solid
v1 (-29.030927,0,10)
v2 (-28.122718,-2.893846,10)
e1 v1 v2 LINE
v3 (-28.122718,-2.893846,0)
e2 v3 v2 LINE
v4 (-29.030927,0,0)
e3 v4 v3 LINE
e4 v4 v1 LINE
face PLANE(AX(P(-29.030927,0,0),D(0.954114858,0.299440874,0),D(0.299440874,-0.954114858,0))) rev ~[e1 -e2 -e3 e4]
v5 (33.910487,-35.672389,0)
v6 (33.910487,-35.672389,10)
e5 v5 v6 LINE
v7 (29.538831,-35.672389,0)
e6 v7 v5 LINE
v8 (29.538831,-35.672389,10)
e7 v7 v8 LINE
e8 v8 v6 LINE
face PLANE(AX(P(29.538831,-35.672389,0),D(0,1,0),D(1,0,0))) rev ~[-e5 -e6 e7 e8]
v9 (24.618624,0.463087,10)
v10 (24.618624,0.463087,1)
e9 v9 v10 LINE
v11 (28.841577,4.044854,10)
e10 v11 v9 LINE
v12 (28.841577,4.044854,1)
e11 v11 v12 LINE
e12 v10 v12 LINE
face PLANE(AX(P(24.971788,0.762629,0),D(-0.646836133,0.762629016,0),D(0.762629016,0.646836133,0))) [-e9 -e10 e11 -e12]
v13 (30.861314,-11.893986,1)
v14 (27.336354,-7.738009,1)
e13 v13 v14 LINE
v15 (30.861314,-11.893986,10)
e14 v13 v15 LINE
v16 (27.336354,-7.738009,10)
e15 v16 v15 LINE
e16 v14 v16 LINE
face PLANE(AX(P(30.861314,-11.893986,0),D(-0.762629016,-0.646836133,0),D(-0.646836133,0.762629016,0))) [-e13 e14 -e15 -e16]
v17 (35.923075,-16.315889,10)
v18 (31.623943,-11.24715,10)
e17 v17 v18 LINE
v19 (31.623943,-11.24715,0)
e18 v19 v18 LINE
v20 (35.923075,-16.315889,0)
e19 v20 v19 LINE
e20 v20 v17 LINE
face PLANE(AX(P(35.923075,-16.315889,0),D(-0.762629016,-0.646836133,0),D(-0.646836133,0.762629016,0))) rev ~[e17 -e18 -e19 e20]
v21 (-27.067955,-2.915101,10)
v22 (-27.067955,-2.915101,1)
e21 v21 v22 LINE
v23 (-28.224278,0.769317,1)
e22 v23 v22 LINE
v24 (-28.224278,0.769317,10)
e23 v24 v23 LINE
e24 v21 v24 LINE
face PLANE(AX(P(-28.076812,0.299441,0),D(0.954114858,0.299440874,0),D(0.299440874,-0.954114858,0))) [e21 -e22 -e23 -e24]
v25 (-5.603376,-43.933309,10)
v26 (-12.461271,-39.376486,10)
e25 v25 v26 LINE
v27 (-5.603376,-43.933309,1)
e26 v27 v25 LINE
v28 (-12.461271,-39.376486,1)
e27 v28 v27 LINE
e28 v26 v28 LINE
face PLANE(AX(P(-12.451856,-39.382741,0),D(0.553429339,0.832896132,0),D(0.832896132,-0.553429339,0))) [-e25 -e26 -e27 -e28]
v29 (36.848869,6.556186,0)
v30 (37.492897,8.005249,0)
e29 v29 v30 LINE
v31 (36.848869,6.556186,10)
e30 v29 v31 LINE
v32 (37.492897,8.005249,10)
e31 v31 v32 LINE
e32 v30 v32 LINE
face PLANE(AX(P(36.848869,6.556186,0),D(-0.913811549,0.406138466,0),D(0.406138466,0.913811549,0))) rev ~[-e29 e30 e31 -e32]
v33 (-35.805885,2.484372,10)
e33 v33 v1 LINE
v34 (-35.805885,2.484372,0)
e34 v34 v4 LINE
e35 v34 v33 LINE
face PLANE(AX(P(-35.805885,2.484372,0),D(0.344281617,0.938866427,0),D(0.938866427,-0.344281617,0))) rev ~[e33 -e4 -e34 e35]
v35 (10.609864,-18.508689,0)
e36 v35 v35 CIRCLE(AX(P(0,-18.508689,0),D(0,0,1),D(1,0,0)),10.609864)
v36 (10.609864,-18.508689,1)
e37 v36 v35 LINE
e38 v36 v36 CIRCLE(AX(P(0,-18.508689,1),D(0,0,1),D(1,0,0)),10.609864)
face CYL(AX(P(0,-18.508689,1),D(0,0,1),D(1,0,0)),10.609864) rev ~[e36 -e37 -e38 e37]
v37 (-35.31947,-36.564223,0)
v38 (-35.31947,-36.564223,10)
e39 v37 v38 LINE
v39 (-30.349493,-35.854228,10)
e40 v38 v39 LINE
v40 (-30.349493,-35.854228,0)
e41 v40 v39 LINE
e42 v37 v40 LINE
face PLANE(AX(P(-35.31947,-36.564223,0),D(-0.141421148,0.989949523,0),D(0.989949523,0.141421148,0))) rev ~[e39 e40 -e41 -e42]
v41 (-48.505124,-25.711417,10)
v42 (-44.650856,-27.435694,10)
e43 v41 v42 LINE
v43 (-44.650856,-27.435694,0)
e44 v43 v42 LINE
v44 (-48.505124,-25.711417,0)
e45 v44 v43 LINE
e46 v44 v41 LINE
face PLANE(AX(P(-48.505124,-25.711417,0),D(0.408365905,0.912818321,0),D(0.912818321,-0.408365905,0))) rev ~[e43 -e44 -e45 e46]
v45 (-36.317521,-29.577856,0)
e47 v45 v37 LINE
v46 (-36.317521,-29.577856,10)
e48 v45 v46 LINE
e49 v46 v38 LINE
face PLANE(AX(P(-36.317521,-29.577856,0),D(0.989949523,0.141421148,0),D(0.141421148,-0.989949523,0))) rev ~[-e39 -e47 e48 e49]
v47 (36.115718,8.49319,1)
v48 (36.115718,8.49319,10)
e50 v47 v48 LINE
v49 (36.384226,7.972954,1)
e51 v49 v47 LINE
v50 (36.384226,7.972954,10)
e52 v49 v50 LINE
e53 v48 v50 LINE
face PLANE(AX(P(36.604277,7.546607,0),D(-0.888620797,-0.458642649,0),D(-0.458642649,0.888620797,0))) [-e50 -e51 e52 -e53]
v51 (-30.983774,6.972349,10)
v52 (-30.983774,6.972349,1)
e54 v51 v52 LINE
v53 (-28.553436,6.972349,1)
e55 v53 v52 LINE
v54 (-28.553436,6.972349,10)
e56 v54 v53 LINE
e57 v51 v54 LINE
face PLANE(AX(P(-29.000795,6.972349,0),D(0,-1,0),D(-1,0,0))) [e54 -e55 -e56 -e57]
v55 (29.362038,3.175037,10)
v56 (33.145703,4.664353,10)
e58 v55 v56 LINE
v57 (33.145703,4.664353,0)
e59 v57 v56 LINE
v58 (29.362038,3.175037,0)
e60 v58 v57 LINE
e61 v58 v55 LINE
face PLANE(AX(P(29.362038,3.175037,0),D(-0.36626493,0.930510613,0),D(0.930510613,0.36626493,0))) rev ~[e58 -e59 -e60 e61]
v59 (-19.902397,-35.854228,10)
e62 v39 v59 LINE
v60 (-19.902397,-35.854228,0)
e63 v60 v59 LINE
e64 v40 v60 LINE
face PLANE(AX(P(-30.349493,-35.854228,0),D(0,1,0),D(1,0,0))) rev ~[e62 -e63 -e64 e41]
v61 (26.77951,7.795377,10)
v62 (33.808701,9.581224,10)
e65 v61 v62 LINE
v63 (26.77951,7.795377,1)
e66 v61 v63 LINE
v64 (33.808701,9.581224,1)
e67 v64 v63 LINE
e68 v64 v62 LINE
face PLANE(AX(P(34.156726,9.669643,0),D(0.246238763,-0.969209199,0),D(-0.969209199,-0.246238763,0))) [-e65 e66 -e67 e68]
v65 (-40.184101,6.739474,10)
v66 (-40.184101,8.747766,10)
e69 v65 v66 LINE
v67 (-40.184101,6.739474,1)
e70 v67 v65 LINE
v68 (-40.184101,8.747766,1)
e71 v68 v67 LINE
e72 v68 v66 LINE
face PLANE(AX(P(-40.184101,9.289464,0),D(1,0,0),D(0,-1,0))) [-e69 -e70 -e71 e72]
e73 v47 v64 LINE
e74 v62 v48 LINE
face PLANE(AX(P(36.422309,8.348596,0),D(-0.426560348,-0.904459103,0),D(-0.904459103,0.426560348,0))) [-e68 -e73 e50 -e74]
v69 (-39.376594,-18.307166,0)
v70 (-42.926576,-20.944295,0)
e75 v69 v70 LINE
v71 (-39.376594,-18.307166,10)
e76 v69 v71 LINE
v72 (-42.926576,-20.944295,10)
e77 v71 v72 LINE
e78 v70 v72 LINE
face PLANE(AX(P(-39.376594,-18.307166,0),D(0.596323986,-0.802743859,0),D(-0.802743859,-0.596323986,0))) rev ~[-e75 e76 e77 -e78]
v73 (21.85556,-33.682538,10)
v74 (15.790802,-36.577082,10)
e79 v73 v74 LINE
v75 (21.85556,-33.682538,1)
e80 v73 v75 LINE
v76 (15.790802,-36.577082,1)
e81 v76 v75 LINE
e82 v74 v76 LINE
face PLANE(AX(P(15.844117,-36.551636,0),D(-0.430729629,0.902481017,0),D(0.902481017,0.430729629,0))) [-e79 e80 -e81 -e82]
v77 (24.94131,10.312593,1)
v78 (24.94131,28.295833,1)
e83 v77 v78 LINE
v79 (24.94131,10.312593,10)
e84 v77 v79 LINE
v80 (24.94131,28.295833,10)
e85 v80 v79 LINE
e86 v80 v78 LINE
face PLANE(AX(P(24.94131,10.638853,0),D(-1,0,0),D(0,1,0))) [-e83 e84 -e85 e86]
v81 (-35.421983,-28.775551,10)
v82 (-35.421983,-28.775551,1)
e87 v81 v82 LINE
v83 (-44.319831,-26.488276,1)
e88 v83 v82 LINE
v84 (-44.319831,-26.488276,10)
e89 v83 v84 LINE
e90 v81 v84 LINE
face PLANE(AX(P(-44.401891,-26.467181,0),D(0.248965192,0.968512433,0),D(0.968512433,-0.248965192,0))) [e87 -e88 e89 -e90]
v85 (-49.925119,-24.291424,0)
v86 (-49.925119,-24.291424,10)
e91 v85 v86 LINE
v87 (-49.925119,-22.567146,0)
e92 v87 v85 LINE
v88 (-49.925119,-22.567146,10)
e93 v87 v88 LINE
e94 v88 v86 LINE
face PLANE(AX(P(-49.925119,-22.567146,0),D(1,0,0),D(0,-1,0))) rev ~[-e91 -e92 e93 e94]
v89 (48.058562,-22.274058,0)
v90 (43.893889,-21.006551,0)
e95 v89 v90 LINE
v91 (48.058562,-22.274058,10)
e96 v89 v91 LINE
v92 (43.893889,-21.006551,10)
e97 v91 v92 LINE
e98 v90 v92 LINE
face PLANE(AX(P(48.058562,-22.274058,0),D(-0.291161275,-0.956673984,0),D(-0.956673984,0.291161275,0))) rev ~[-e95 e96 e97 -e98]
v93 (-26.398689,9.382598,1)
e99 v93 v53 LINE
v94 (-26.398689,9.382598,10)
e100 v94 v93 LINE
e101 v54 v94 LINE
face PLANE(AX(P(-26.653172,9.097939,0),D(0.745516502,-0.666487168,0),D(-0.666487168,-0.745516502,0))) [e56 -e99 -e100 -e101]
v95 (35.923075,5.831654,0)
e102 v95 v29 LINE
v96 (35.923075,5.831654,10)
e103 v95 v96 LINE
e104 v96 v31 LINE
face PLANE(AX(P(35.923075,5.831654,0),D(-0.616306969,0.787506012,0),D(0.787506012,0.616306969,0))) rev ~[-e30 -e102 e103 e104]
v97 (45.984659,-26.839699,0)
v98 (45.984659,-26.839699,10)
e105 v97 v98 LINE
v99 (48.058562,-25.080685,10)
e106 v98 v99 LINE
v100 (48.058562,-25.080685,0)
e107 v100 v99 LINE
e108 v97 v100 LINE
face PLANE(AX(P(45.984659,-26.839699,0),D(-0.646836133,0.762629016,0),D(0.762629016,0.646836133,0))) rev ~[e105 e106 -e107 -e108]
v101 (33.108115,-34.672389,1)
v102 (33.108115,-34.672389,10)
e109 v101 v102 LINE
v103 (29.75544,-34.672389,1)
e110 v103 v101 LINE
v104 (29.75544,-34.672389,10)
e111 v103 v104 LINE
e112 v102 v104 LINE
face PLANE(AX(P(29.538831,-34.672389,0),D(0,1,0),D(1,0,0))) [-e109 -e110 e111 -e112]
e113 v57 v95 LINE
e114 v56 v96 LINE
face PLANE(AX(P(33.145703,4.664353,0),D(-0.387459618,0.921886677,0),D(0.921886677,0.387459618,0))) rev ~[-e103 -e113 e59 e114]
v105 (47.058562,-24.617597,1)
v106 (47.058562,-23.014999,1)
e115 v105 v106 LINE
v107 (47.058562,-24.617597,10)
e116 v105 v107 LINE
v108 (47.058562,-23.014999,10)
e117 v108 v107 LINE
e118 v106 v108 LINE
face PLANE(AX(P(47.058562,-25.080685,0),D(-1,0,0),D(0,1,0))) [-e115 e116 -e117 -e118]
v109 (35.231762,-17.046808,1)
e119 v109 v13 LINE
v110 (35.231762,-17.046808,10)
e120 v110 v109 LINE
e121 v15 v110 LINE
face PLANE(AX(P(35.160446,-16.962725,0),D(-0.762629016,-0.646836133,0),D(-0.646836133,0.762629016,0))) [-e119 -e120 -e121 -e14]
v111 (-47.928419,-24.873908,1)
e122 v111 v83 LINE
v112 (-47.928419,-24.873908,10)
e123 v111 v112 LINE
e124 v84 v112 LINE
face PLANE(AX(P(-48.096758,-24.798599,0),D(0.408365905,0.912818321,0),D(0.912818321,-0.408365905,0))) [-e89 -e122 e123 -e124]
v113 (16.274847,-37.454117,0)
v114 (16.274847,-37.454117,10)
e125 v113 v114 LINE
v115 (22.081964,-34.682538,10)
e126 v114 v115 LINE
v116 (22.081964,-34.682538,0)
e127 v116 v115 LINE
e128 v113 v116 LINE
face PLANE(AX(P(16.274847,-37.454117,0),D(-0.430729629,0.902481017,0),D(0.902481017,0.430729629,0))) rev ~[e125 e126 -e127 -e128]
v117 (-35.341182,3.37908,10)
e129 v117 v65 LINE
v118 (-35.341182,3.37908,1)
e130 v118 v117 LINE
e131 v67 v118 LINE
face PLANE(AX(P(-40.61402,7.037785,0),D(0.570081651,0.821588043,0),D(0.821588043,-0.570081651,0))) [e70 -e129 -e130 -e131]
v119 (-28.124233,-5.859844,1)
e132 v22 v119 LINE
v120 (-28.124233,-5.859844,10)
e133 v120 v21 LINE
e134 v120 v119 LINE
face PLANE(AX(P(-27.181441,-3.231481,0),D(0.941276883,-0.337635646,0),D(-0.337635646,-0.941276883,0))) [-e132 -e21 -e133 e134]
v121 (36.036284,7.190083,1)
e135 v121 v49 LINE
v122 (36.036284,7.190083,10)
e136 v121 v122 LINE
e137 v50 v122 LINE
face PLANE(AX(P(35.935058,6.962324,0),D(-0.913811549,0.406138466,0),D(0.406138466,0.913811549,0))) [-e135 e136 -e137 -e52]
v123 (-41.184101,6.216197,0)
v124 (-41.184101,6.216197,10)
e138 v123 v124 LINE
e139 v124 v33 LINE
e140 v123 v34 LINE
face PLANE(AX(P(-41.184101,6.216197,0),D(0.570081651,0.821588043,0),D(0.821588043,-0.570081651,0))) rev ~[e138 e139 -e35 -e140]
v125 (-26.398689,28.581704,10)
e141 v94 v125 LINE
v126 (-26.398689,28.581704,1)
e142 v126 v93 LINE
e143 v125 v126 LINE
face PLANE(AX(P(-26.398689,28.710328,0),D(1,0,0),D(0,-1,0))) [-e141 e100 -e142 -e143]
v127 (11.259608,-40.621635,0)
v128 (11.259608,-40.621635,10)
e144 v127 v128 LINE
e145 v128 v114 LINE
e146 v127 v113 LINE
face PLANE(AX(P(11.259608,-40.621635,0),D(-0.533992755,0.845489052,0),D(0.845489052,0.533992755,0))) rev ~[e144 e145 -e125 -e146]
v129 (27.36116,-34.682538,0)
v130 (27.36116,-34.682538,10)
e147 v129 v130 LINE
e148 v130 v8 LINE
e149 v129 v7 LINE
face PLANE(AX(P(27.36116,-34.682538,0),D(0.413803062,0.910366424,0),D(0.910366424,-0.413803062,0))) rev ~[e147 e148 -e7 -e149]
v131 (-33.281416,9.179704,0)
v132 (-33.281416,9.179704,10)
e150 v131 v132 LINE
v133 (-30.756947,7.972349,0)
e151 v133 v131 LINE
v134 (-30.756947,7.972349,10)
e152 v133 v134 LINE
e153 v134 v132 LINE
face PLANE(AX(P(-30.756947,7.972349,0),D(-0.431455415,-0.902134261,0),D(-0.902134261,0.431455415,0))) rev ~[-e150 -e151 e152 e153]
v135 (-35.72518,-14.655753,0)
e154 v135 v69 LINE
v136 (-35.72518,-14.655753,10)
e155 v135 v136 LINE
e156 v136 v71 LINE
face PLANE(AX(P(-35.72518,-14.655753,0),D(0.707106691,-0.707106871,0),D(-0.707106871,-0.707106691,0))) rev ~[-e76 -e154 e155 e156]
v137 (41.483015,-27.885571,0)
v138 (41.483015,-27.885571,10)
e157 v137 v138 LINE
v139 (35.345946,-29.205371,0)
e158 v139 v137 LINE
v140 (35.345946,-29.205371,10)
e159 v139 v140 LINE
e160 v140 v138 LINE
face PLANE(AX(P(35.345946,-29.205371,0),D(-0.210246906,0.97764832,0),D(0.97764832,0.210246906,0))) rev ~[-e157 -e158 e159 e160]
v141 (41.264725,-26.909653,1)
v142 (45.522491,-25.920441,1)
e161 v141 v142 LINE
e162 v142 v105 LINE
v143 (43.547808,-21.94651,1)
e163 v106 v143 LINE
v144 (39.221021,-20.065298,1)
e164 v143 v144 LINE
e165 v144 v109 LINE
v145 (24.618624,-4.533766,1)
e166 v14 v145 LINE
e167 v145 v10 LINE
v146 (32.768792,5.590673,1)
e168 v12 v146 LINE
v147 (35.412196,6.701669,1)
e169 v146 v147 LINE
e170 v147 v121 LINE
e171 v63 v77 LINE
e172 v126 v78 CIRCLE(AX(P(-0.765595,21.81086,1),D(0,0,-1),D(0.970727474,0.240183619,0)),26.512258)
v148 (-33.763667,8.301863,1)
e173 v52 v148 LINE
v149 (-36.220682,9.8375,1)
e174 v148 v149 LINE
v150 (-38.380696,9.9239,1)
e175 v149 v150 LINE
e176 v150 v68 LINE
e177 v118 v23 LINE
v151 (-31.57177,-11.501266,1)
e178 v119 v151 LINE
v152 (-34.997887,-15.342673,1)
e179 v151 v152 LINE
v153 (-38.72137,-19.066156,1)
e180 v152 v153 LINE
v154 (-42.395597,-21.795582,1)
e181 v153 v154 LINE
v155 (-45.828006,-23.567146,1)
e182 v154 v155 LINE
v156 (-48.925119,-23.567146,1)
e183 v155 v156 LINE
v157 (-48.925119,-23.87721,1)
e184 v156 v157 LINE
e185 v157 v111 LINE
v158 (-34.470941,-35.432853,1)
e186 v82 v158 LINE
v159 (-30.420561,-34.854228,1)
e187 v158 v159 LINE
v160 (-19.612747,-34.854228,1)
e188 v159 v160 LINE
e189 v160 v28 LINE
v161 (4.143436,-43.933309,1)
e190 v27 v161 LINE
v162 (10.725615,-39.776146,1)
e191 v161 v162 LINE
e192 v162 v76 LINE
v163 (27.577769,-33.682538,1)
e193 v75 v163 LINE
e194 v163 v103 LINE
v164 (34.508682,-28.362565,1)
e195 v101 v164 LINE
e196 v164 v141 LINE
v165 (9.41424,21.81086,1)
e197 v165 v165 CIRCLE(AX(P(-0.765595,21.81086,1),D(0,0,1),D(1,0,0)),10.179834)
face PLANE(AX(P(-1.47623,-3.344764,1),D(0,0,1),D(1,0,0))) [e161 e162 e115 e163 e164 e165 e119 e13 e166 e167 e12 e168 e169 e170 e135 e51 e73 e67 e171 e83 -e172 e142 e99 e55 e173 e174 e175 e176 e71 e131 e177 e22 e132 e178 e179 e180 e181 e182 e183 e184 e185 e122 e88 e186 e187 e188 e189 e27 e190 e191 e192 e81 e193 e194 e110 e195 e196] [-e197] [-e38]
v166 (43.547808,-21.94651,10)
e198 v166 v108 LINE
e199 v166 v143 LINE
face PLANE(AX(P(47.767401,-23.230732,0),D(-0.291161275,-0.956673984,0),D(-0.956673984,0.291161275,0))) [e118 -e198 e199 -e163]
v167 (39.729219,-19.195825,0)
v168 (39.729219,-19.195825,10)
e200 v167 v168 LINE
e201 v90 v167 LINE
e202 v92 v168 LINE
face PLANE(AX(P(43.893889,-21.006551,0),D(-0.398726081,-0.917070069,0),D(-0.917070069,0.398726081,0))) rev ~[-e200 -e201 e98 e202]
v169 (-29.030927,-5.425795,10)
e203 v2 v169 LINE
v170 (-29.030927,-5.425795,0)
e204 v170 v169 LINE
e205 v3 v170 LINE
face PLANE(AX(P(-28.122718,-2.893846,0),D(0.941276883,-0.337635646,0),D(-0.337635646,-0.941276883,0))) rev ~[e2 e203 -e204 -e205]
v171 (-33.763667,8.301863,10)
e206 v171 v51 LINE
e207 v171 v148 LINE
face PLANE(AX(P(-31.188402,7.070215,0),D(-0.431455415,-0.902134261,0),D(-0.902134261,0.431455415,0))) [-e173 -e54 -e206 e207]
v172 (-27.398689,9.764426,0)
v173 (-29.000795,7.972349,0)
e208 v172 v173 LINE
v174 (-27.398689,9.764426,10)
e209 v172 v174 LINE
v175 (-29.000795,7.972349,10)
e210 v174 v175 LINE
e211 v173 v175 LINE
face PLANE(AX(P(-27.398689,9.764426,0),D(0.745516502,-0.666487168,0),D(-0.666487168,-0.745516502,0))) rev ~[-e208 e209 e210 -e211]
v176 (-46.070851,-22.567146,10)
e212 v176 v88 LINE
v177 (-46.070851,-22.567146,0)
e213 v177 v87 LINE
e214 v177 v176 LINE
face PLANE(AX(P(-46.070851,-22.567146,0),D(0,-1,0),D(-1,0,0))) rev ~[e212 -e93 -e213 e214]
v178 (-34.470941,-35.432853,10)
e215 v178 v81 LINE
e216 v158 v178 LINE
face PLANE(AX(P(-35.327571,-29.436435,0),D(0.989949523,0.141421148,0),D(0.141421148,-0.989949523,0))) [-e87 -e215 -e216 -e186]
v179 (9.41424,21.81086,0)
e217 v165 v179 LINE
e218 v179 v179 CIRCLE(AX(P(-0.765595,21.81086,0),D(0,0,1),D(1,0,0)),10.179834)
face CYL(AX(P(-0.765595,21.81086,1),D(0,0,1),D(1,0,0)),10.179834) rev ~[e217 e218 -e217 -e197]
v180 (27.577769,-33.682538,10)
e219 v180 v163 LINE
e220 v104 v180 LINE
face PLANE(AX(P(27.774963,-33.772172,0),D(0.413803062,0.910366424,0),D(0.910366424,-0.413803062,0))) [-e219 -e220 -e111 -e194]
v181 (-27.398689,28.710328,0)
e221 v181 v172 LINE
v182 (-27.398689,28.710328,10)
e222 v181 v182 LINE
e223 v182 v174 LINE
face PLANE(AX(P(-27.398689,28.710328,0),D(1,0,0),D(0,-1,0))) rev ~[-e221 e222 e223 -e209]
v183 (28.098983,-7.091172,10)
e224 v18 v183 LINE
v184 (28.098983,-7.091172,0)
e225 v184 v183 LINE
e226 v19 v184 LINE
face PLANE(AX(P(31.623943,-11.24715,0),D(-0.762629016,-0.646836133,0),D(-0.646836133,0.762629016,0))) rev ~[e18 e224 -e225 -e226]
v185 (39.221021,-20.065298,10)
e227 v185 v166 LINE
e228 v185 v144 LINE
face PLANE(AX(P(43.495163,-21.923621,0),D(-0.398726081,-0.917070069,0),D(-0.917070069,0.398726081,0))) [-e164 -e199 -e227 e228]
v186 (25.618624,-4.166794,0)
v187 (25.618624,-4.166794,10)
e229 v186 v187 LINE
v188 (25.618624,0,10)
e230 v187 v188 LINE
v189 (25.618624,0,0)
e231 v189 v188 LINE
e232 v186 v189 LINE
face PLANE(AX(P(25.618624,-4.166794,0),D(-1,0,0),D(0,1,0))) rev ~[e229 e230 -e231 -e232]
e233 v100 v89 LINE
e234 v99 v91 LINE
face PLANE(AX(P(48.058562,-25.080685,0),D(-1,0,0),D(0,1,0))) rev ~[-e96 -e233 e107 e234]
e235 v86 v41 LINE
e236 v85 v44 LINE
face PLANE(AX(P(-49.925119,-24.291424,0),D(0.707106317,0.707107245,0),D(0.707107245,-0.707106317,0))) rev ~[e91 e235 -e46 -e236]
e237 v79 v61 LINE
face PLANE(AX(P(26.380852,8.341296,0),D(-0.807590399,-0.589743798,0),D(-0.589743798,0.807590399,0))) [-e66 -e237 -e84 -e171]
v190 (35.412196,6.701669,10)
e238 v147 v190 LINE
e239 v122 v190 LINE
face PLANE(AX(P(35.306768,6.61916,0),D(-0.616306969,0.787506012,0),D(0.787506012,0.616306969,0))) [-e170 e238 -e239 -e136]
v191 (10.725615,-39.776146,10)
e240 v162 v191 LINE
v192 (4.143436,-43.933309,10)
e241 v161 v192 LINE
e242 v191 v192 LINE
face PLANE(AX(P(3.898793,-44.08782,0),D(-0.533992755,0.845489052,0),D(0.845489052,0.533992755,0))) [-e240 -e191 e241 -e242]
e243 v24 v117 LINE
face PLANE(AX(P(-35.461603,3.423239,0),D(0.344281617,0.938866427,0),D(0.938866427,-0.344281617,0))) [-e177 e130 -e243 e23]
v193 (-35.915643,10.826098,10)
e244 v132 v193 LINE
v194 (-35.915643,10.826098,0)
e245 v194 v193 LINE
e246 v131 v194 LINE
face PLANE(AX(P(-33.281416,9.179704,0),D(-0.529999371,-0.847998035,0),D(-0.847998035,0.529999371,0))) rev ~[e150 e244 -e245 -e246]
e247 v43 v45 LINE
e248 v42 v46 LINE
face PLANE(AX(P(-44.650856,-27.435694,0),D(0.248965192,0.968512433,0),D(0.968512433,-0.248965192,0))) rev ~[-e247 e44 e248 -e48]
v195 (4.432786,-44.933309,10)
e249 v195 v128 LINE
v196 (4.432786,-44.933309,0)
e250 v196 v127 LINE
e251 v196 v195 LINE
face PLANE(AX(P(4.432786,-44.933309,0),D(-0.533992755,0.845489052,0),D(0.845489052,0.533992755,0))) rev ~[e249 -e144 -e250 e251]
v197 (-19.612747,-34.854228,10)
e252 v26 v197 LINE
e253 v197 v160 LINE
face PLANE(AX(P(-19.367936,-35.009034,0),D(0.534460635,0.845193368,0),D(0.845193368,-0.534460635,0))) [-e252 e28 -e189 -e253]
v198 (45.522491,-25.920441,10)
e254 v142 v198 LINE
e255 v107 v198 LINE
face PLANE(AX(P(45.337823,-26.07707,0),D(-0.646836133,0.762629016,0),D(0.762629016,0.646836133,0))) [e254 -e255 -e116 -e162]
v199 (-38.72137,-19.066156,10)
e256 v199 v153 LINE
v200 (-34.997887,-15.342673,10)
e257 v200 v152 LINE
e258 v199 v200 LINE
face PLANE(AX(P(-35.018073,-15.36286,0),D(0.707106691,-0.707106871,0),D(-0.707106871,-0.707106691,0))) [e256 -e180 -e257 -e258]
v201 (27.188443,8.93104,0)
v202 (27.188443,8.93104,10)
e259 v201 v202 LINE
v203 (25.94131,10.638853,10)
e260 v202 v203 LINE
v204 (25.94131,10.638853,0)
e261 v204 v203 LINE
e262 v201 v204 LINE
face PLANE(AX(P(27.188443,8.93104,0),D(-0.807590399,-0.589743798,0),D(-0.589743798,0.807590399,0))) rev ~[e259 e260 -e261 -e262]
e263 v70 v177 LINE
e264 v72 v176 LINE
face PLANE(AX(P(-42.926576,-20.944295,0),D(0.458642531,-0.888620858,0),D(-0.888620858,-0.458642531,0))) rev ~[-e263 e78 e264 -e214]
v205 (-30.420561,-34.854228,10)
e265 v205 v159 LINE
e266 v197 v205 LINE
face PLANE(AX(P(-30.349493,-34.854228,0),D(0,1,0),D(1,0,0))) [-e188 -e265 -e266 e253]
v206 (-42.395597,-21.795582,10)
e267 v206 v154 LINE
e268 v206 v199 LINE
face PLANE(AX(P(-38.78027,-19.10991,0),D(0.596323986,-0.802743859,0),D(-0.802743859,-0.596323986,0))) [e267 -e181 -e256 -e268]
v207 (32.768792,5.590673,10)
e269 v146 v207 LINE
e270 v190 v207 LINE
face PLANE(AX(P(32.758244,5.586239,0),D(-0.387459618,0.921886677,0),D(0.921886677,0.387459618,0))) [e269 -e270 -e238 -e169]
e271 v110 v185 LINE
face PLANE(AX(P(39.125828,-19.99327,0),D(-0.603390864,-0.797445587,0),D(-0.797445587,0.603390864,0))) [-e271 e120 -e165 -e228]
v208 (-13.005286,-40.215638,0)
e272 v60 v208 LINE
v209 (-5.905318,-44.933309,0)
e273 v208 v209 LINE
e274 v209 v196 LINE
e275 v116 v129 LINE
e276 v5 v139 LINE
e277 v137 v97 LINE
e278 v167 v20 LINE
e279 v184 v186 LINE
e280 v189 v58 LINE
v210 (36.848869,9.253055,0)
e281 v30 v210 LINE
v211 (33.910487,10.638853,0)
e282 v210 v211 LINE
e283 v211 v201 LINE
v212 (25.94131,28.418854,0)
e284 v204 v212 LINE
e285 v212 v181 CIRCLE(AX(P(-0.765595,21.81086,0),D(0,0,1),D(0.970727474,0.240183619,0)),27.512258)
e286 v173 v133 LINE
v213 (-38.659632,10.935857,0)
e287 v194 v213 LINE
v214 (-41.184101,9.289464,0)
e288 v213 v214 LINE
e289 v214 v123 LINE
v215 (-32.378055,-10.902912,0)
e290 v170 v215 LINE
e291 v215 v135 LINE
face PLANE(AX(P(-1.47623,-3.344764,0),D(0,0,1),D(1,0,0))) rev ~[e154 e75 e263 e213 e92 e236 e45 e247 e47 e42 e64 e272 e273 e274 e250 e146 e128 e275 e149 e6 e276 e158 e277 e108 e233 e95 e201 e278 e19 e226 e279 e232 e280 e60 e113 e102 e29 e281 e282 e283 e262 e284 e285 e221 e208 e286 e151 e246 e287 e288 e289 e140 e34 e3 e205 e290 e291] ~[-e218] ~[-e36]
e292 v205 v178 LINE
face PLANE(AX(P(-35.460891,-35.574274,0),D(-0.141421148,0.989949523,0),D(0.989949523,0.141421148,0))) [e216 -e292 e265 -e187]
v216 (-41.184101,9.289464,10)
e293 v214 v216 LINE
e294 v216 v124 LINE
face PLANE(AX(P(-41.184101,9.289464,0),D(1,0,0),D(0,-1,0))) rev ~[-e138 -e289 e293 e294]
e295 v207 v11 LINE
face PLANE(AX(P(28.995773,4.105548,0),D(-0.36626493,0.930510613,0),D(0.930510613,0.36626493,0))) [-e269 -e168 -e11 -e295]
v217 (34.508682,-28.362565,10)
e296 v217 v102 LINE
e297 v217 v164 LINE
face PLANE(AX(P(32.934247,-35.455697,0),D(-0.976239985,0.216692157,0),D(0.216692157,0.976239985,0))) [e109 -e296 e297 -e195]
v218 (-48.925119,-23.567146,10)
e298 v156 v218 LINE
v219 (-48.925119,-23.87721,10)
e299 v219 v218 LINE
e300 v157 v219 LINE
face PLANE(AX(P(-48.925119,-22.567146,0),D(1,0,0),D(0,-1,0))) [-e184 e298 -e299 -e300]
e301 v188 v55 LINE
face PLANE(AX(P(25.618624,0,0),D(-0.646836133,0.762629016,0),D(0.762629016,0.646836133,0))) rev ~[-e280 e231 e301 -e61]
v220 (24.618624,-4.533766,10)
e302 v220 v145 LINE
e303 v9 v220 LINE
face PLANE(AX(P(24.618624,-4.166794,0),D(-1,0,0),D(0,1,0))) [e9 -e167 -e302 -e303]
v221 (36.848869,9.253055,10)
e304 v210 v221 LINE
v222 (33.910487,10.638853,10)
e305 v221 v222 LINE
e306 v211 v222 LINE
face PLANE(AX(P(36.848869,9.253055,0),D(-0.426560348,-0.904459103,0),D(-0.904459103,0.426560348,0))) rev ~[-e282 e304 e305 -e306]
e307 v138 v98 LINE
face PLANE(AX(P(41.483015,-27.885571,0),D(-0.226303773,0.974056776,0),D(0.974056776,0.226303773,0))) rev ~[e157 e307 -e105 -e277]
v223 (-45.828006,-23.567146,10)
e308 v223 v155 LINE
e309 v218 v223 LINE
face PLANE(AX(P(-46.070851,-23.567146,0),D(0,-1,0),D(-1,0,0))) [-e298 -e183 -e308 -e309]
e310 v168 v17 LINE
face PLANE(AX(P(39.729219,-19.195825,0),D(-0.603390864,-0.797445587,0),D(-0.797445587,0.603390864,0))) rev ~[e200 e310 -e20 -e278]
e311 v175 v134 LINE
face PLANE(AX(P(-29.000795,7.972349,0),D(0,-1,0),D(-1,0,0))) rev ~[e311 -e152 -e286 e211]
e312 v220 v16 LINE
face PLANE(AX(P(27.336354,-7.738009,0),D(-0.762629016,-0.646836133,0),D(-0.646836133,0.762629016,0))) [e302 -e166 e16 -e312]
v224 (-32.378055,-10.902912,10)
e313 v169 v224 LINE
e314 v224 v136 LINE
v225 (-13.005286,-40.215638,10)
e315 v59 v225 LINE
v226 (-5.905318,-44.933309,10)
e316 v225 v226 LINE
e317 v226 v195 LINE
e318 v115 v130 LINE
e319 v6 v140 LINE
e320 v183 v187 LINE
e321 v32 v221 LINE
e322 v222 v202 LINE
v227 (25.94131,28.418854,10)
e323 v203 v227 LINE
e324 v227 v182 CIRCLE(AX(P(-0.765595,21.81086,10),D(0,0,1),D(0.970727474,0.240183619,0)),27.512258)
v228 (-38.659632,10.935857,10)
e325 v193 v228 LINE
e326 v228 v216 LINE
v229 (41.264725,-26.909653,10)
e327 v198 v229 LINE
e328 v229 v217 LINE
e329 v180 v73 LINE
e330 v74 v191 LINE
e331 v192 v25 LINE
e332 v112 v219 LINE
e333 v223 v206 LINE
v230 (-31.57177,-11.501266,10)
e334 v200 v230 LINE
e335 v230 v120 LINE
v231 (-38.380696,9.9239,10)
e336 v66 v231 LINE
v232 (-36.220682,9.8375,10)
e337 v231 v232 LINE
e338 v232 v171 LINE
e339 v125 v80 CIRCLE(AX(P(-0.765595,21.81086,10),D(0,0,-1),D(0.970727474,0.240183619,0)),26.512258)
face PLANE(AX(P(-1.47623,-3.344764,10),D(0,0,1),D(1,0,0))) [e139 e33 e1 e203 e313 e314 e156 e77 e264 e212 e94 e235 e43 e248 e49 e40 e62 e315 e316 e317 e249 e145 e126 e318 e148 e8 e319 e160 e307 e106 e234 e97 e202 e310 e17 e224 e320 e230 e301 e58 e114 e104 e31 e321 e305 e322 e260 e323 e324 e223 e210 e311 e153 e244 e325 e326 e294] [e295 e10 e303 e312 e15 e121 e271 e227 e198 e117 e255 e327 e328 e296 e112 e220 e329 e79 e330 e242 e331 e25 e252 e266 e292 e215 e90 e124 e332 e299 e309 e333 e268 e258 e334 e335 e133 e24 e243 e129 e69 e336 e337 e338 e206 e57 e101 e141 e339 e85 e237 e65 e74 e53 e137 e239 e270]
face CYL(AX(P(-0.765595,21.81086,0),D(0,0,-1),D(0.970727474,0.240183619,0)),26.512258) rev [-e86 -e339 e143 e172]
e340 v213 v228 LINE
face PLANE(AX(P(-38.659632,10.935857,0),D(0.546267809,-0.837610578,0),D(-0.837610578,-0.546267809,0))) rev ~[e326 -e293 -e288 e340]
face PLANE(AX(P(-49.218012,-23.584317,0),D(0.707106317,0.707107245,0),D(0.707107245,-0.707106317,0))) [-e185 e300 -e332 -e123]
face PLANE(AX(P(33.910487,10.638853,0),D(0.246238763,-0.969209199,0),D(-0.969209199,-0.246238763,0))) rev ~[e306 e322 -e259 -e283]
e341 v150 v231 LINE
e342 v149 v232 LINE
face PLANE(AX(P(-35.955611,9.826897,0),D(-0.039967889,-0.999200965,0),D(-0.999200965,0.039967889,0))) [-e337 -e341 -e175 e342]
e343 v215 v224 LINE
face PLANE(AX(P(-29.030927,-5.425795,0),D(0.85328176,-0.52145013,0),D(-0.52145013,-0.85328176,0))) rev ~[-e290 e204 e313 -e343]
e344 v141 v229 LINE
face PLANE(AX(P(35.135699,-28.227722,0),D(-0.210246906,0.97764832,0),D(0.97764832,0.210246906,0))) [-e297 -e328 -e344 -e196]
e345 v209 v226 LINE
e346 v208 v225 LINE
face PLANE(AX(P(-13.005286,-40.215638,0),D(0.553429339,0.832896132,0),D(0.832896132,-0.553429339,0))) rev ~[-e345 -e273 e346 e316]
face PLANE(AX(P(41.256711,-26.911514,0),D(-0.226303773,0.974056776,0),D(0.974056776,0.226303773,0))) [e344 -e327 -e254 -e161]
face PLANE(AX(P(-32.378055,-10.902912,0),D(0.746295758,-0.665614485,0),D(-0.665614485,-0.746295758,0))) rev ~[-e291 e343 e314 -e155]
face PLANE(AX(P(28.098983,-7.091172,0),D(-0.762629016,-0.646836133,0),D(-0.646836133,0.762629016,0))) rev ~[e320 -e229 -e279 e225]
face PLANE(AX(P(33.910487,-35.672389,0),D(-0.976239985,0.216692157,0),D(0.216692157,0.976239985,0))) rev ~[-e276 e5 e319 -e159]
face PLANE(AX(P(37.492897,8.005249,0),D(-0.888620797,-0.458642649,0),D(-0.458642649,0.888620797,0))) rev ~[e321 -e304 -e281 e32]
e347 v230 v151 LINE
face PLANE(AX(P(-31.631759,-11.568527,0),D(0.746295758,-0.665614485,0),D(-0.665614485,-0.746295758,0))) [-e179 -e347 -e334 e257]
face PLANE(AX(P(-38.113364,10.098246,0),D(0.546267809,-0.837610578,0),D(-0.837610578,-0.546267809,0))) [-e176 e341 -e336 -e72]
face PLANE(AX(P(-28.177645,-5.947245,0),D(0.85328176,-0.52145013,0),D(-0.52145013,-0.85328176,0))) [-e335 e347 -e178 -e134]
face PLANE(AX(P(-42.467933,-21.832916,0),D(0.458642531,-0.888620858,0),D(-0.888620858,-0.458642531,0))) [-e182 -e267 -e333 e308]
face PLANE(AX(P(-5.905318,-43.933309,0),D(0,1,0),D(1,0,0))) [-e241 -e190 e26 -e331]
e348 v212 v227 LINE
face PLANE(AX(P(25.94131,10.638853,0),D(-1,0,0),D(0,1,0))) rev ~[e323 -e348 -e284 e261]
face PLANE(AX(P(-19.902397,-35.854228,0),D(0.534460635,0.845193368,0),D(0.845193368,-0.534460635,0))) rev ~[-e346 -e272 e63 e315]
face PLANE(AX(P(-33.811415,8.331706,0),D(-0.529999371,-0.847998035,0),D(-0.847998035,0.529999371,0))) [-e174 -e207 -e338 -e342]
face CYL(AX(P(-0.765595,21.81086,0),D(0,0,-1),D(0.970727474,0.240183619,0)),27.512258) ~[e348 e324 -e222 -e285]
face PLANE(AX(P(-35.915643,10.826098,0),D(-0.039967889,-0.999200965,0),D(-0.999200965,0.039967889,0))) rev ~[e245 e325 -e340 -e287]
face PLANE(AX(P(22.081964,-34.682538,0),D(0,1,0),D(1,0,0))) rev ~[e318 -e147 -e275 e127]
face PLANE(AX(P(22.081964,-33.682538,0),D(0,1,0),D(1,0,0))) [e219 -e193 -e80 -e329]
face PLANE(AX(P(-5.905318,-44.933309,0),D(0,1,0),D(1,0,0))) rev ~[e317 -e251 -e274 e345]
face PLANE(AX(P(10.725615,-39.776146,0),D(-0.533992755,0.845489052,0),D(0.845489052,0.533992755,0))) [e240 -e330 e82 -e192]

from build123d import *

# Parameters (mm, degrees)
F1_DEPTH = 10
F2_T     = -1
F3_R     = 10.1798341208
F3_R_2   = 10.6098641694
F4_DEPTH = 1.001


with BuildPart() as f1:
    # F0 (on Top) → F1 (new body)
    with BuildSketch(Plane.XY):
        with BuildLine():
            Line((25.9413104504, 10.6388526037), (25.9413104504, 28.418853879))
            ThreePointArc((25.9413104504, 28.418853879), (-0.6152572854, 49.3227077034), (-27.3986887187, 28.7103280425))
            Line((-27.3986887187, 28.7103280425), (-27.3986887187, 9.7644263878))
            Line((-27.3986887187, 9.7644263878), (-29.000794515, 7.9723494127))
            Line((-29.000794515, 7.9723494127), (-30.7569466531, 7.9723494127))
            Line((-30.7569466531, 7.9723494127), (-33.2814157009, 9.1797038913))
            Line((-33.2814157009, 9.1797038913), (-35.9156429768, 10.8260978013))
            Line((-35.9156429768, 10.8260978013), (-38.659632206, 10.9358569607))
            Line((-38.659632206, 10.9358569607), (-41.1841012537, 9.289463982))
            Line((-41.1841012537, 9.289463982), (-41.1841012537, 6.216196809))
            Line((-41.1841012537, 6.216196809), (-35.8058847487, 2.4843721185))
            Line((-35.8058847487, 2.4843721185), (-29.0309265256, 0))
            Line((-29.0309265256, 0), (-28.1227175146, -2.8938457835))
            Line((-28.1227175146, -2.8938457835), (-29.0309265256, -5.4257945158))
            Line((-29.0309265256, -5.4257945158), (-32.3780551553, -10.902912356))
            Line((-32.3780551553, -10.902912356), (-35.7251800597, -14.6557530388))
            Line((-35.7251800597, -14.6557530388), (-39.3765941262, -18.3071661741))
            Line((-39.3765941262, -18.3071661741), (-42.9265759885, -20.944295451))
            Line((-42.9265759885, -20.944295451), (-46.0708513856, -22.5671455264))
            Line((-46.0708513856, -22.5671455264), (-49.9251186848, -22.5671455264))
            Line((-49.9251186848, -22.5671455264), (-49.9251186848, -24.2914240807))
            Line((-49.9251186848, -24.2914240807), (-48.5051237047, -25.7114171982))
            Line((-48.5051237047, -25.7114171982), (-44.6508564055, -27.4356938899))
            Line((-44.6508564055, -27.4356938899), (-36.3175208918, -29.5778558365))
            Line((-36.3175208918, -29.5778558365), (-35.3194698691, -36.5642234683))
            Line((-35.3194698691, -36.5642234683), (-30.3494930267, -35.8542278409))
            Line((-30.3494930267, -35.8542278409), (-19.9023969471, -35.8542278409))
            Line((-19.9023969471, -35.8542278409), (-13.0052855238, -40.2156375349))
            Line((-13.0052855238, -40.2156375349), (-5.9053180739, -44.9333089781))
            Line((-5.9053180739, -44.9333089781), (4.4327859365, -44.9333089781))
            Line((4.4327859365, -44.9333089781), (11.2596079707, -40.6216345727))
            Line((11.2596079707, -40.6216345727), (16.2748470902, -37.4541170895))
            Line((16.2748470902, -37.4541170895), (22.0819637179, -34.6825383604))
            Line((22.0819637179, -34.6825383604), (27.3611601442, -34.6825383604))
            Line((27.3611601442, -34.6825383604), (29.5388307422, -35.6723889709))
            Line((29.5388307422, -35.6723889709), (33.9104868472, -35.6723889709))
            Line((33.9104868472, -35.6723889709), (35.3459455073, -29.2053706944))
            Line((35.3459455073, -29.2053706944), (41.483014822, -27.8855711222))
            Line((41.483014822, -27.8855711222), (45.9846592715, -26.8396986936))
            Line((45.9846592715, -26.8396986936), (48.0585619807, -25.0806845725))
            Line((48.0585619807, -25.0806845725), (48.0585619807, -22.2740583122))
            Line((48.0585619807, -22.2740583122), (43.8938885927, -21.0065506399))
            Line((43.8938885927, -21.0065506399), (39.72921893, -19.1958248615))
            Line((39.72921893, -19.1958248615), (35.9230749309, -16.3158885314))
            Line((35.9230749309, -16.3158885314), (31.6239426274, -11.2471502964))
            Line((31.6239426274, -11.2471502964), (28.0989827636, -7.0911723973))
            Line((28.0989827636, -7.0911723973), (25.6186239421, -4.1667940095))
            Line((25.6186239421, -4.1667940095), (25.6186239421, 0))
            Line((25.6186239421, 0), (29.3620377779, 3.1750369817))
            Line((29.3620377779, 3.1750369817), (33.1457033753, 4.6643526293))
            Line((33.1457033753, 4.6643526293), (35.9230749309, 5.8316537179))
            Line((35.9230749309, 5.8316537179), (36.8488691747, 6.5561858937))
            Line((36.8488691747, 6.5561858937), (37.4928973615, 8.005249314))
            Line((37.4928973615, 8.005249314), (36.8488691747, 9.2530548573))
            Line((36.8488691747, 9.2530548573), (33.9104868472, 10.6388526037))
            Line((33.9104868472, 10.6388526037), (27.1884426475, 8.9310398325))
            Line((27.1884426475, 8.9310398325), (25.9413104504, 10.6388526037))
        make_face()
    extrude(amount=F1_DEPTH)

    # F2
    f2_openings = [f1.faces().sort_by_distance(p)[0] for p in [
        (-0.960702, -0.889332, 10),
    ]]
    offset(amount=F2_T, openings=f2_openings, kind=Kind.INTERSECTION)

    # F3 (on face) → F4 (cut, through all)
    with BuildSketch(Plane.XY.offset(1)):
        with Locations((-0.76559461, 21.8108601041)):
            Circle(F3_R)
        with Locations((0, -18.508689478)):
            Circle(F3_R_2)
    extrude(amount=-F4_DEPTH, mode=Mode.SUBTRACT)


solid = f1.part
